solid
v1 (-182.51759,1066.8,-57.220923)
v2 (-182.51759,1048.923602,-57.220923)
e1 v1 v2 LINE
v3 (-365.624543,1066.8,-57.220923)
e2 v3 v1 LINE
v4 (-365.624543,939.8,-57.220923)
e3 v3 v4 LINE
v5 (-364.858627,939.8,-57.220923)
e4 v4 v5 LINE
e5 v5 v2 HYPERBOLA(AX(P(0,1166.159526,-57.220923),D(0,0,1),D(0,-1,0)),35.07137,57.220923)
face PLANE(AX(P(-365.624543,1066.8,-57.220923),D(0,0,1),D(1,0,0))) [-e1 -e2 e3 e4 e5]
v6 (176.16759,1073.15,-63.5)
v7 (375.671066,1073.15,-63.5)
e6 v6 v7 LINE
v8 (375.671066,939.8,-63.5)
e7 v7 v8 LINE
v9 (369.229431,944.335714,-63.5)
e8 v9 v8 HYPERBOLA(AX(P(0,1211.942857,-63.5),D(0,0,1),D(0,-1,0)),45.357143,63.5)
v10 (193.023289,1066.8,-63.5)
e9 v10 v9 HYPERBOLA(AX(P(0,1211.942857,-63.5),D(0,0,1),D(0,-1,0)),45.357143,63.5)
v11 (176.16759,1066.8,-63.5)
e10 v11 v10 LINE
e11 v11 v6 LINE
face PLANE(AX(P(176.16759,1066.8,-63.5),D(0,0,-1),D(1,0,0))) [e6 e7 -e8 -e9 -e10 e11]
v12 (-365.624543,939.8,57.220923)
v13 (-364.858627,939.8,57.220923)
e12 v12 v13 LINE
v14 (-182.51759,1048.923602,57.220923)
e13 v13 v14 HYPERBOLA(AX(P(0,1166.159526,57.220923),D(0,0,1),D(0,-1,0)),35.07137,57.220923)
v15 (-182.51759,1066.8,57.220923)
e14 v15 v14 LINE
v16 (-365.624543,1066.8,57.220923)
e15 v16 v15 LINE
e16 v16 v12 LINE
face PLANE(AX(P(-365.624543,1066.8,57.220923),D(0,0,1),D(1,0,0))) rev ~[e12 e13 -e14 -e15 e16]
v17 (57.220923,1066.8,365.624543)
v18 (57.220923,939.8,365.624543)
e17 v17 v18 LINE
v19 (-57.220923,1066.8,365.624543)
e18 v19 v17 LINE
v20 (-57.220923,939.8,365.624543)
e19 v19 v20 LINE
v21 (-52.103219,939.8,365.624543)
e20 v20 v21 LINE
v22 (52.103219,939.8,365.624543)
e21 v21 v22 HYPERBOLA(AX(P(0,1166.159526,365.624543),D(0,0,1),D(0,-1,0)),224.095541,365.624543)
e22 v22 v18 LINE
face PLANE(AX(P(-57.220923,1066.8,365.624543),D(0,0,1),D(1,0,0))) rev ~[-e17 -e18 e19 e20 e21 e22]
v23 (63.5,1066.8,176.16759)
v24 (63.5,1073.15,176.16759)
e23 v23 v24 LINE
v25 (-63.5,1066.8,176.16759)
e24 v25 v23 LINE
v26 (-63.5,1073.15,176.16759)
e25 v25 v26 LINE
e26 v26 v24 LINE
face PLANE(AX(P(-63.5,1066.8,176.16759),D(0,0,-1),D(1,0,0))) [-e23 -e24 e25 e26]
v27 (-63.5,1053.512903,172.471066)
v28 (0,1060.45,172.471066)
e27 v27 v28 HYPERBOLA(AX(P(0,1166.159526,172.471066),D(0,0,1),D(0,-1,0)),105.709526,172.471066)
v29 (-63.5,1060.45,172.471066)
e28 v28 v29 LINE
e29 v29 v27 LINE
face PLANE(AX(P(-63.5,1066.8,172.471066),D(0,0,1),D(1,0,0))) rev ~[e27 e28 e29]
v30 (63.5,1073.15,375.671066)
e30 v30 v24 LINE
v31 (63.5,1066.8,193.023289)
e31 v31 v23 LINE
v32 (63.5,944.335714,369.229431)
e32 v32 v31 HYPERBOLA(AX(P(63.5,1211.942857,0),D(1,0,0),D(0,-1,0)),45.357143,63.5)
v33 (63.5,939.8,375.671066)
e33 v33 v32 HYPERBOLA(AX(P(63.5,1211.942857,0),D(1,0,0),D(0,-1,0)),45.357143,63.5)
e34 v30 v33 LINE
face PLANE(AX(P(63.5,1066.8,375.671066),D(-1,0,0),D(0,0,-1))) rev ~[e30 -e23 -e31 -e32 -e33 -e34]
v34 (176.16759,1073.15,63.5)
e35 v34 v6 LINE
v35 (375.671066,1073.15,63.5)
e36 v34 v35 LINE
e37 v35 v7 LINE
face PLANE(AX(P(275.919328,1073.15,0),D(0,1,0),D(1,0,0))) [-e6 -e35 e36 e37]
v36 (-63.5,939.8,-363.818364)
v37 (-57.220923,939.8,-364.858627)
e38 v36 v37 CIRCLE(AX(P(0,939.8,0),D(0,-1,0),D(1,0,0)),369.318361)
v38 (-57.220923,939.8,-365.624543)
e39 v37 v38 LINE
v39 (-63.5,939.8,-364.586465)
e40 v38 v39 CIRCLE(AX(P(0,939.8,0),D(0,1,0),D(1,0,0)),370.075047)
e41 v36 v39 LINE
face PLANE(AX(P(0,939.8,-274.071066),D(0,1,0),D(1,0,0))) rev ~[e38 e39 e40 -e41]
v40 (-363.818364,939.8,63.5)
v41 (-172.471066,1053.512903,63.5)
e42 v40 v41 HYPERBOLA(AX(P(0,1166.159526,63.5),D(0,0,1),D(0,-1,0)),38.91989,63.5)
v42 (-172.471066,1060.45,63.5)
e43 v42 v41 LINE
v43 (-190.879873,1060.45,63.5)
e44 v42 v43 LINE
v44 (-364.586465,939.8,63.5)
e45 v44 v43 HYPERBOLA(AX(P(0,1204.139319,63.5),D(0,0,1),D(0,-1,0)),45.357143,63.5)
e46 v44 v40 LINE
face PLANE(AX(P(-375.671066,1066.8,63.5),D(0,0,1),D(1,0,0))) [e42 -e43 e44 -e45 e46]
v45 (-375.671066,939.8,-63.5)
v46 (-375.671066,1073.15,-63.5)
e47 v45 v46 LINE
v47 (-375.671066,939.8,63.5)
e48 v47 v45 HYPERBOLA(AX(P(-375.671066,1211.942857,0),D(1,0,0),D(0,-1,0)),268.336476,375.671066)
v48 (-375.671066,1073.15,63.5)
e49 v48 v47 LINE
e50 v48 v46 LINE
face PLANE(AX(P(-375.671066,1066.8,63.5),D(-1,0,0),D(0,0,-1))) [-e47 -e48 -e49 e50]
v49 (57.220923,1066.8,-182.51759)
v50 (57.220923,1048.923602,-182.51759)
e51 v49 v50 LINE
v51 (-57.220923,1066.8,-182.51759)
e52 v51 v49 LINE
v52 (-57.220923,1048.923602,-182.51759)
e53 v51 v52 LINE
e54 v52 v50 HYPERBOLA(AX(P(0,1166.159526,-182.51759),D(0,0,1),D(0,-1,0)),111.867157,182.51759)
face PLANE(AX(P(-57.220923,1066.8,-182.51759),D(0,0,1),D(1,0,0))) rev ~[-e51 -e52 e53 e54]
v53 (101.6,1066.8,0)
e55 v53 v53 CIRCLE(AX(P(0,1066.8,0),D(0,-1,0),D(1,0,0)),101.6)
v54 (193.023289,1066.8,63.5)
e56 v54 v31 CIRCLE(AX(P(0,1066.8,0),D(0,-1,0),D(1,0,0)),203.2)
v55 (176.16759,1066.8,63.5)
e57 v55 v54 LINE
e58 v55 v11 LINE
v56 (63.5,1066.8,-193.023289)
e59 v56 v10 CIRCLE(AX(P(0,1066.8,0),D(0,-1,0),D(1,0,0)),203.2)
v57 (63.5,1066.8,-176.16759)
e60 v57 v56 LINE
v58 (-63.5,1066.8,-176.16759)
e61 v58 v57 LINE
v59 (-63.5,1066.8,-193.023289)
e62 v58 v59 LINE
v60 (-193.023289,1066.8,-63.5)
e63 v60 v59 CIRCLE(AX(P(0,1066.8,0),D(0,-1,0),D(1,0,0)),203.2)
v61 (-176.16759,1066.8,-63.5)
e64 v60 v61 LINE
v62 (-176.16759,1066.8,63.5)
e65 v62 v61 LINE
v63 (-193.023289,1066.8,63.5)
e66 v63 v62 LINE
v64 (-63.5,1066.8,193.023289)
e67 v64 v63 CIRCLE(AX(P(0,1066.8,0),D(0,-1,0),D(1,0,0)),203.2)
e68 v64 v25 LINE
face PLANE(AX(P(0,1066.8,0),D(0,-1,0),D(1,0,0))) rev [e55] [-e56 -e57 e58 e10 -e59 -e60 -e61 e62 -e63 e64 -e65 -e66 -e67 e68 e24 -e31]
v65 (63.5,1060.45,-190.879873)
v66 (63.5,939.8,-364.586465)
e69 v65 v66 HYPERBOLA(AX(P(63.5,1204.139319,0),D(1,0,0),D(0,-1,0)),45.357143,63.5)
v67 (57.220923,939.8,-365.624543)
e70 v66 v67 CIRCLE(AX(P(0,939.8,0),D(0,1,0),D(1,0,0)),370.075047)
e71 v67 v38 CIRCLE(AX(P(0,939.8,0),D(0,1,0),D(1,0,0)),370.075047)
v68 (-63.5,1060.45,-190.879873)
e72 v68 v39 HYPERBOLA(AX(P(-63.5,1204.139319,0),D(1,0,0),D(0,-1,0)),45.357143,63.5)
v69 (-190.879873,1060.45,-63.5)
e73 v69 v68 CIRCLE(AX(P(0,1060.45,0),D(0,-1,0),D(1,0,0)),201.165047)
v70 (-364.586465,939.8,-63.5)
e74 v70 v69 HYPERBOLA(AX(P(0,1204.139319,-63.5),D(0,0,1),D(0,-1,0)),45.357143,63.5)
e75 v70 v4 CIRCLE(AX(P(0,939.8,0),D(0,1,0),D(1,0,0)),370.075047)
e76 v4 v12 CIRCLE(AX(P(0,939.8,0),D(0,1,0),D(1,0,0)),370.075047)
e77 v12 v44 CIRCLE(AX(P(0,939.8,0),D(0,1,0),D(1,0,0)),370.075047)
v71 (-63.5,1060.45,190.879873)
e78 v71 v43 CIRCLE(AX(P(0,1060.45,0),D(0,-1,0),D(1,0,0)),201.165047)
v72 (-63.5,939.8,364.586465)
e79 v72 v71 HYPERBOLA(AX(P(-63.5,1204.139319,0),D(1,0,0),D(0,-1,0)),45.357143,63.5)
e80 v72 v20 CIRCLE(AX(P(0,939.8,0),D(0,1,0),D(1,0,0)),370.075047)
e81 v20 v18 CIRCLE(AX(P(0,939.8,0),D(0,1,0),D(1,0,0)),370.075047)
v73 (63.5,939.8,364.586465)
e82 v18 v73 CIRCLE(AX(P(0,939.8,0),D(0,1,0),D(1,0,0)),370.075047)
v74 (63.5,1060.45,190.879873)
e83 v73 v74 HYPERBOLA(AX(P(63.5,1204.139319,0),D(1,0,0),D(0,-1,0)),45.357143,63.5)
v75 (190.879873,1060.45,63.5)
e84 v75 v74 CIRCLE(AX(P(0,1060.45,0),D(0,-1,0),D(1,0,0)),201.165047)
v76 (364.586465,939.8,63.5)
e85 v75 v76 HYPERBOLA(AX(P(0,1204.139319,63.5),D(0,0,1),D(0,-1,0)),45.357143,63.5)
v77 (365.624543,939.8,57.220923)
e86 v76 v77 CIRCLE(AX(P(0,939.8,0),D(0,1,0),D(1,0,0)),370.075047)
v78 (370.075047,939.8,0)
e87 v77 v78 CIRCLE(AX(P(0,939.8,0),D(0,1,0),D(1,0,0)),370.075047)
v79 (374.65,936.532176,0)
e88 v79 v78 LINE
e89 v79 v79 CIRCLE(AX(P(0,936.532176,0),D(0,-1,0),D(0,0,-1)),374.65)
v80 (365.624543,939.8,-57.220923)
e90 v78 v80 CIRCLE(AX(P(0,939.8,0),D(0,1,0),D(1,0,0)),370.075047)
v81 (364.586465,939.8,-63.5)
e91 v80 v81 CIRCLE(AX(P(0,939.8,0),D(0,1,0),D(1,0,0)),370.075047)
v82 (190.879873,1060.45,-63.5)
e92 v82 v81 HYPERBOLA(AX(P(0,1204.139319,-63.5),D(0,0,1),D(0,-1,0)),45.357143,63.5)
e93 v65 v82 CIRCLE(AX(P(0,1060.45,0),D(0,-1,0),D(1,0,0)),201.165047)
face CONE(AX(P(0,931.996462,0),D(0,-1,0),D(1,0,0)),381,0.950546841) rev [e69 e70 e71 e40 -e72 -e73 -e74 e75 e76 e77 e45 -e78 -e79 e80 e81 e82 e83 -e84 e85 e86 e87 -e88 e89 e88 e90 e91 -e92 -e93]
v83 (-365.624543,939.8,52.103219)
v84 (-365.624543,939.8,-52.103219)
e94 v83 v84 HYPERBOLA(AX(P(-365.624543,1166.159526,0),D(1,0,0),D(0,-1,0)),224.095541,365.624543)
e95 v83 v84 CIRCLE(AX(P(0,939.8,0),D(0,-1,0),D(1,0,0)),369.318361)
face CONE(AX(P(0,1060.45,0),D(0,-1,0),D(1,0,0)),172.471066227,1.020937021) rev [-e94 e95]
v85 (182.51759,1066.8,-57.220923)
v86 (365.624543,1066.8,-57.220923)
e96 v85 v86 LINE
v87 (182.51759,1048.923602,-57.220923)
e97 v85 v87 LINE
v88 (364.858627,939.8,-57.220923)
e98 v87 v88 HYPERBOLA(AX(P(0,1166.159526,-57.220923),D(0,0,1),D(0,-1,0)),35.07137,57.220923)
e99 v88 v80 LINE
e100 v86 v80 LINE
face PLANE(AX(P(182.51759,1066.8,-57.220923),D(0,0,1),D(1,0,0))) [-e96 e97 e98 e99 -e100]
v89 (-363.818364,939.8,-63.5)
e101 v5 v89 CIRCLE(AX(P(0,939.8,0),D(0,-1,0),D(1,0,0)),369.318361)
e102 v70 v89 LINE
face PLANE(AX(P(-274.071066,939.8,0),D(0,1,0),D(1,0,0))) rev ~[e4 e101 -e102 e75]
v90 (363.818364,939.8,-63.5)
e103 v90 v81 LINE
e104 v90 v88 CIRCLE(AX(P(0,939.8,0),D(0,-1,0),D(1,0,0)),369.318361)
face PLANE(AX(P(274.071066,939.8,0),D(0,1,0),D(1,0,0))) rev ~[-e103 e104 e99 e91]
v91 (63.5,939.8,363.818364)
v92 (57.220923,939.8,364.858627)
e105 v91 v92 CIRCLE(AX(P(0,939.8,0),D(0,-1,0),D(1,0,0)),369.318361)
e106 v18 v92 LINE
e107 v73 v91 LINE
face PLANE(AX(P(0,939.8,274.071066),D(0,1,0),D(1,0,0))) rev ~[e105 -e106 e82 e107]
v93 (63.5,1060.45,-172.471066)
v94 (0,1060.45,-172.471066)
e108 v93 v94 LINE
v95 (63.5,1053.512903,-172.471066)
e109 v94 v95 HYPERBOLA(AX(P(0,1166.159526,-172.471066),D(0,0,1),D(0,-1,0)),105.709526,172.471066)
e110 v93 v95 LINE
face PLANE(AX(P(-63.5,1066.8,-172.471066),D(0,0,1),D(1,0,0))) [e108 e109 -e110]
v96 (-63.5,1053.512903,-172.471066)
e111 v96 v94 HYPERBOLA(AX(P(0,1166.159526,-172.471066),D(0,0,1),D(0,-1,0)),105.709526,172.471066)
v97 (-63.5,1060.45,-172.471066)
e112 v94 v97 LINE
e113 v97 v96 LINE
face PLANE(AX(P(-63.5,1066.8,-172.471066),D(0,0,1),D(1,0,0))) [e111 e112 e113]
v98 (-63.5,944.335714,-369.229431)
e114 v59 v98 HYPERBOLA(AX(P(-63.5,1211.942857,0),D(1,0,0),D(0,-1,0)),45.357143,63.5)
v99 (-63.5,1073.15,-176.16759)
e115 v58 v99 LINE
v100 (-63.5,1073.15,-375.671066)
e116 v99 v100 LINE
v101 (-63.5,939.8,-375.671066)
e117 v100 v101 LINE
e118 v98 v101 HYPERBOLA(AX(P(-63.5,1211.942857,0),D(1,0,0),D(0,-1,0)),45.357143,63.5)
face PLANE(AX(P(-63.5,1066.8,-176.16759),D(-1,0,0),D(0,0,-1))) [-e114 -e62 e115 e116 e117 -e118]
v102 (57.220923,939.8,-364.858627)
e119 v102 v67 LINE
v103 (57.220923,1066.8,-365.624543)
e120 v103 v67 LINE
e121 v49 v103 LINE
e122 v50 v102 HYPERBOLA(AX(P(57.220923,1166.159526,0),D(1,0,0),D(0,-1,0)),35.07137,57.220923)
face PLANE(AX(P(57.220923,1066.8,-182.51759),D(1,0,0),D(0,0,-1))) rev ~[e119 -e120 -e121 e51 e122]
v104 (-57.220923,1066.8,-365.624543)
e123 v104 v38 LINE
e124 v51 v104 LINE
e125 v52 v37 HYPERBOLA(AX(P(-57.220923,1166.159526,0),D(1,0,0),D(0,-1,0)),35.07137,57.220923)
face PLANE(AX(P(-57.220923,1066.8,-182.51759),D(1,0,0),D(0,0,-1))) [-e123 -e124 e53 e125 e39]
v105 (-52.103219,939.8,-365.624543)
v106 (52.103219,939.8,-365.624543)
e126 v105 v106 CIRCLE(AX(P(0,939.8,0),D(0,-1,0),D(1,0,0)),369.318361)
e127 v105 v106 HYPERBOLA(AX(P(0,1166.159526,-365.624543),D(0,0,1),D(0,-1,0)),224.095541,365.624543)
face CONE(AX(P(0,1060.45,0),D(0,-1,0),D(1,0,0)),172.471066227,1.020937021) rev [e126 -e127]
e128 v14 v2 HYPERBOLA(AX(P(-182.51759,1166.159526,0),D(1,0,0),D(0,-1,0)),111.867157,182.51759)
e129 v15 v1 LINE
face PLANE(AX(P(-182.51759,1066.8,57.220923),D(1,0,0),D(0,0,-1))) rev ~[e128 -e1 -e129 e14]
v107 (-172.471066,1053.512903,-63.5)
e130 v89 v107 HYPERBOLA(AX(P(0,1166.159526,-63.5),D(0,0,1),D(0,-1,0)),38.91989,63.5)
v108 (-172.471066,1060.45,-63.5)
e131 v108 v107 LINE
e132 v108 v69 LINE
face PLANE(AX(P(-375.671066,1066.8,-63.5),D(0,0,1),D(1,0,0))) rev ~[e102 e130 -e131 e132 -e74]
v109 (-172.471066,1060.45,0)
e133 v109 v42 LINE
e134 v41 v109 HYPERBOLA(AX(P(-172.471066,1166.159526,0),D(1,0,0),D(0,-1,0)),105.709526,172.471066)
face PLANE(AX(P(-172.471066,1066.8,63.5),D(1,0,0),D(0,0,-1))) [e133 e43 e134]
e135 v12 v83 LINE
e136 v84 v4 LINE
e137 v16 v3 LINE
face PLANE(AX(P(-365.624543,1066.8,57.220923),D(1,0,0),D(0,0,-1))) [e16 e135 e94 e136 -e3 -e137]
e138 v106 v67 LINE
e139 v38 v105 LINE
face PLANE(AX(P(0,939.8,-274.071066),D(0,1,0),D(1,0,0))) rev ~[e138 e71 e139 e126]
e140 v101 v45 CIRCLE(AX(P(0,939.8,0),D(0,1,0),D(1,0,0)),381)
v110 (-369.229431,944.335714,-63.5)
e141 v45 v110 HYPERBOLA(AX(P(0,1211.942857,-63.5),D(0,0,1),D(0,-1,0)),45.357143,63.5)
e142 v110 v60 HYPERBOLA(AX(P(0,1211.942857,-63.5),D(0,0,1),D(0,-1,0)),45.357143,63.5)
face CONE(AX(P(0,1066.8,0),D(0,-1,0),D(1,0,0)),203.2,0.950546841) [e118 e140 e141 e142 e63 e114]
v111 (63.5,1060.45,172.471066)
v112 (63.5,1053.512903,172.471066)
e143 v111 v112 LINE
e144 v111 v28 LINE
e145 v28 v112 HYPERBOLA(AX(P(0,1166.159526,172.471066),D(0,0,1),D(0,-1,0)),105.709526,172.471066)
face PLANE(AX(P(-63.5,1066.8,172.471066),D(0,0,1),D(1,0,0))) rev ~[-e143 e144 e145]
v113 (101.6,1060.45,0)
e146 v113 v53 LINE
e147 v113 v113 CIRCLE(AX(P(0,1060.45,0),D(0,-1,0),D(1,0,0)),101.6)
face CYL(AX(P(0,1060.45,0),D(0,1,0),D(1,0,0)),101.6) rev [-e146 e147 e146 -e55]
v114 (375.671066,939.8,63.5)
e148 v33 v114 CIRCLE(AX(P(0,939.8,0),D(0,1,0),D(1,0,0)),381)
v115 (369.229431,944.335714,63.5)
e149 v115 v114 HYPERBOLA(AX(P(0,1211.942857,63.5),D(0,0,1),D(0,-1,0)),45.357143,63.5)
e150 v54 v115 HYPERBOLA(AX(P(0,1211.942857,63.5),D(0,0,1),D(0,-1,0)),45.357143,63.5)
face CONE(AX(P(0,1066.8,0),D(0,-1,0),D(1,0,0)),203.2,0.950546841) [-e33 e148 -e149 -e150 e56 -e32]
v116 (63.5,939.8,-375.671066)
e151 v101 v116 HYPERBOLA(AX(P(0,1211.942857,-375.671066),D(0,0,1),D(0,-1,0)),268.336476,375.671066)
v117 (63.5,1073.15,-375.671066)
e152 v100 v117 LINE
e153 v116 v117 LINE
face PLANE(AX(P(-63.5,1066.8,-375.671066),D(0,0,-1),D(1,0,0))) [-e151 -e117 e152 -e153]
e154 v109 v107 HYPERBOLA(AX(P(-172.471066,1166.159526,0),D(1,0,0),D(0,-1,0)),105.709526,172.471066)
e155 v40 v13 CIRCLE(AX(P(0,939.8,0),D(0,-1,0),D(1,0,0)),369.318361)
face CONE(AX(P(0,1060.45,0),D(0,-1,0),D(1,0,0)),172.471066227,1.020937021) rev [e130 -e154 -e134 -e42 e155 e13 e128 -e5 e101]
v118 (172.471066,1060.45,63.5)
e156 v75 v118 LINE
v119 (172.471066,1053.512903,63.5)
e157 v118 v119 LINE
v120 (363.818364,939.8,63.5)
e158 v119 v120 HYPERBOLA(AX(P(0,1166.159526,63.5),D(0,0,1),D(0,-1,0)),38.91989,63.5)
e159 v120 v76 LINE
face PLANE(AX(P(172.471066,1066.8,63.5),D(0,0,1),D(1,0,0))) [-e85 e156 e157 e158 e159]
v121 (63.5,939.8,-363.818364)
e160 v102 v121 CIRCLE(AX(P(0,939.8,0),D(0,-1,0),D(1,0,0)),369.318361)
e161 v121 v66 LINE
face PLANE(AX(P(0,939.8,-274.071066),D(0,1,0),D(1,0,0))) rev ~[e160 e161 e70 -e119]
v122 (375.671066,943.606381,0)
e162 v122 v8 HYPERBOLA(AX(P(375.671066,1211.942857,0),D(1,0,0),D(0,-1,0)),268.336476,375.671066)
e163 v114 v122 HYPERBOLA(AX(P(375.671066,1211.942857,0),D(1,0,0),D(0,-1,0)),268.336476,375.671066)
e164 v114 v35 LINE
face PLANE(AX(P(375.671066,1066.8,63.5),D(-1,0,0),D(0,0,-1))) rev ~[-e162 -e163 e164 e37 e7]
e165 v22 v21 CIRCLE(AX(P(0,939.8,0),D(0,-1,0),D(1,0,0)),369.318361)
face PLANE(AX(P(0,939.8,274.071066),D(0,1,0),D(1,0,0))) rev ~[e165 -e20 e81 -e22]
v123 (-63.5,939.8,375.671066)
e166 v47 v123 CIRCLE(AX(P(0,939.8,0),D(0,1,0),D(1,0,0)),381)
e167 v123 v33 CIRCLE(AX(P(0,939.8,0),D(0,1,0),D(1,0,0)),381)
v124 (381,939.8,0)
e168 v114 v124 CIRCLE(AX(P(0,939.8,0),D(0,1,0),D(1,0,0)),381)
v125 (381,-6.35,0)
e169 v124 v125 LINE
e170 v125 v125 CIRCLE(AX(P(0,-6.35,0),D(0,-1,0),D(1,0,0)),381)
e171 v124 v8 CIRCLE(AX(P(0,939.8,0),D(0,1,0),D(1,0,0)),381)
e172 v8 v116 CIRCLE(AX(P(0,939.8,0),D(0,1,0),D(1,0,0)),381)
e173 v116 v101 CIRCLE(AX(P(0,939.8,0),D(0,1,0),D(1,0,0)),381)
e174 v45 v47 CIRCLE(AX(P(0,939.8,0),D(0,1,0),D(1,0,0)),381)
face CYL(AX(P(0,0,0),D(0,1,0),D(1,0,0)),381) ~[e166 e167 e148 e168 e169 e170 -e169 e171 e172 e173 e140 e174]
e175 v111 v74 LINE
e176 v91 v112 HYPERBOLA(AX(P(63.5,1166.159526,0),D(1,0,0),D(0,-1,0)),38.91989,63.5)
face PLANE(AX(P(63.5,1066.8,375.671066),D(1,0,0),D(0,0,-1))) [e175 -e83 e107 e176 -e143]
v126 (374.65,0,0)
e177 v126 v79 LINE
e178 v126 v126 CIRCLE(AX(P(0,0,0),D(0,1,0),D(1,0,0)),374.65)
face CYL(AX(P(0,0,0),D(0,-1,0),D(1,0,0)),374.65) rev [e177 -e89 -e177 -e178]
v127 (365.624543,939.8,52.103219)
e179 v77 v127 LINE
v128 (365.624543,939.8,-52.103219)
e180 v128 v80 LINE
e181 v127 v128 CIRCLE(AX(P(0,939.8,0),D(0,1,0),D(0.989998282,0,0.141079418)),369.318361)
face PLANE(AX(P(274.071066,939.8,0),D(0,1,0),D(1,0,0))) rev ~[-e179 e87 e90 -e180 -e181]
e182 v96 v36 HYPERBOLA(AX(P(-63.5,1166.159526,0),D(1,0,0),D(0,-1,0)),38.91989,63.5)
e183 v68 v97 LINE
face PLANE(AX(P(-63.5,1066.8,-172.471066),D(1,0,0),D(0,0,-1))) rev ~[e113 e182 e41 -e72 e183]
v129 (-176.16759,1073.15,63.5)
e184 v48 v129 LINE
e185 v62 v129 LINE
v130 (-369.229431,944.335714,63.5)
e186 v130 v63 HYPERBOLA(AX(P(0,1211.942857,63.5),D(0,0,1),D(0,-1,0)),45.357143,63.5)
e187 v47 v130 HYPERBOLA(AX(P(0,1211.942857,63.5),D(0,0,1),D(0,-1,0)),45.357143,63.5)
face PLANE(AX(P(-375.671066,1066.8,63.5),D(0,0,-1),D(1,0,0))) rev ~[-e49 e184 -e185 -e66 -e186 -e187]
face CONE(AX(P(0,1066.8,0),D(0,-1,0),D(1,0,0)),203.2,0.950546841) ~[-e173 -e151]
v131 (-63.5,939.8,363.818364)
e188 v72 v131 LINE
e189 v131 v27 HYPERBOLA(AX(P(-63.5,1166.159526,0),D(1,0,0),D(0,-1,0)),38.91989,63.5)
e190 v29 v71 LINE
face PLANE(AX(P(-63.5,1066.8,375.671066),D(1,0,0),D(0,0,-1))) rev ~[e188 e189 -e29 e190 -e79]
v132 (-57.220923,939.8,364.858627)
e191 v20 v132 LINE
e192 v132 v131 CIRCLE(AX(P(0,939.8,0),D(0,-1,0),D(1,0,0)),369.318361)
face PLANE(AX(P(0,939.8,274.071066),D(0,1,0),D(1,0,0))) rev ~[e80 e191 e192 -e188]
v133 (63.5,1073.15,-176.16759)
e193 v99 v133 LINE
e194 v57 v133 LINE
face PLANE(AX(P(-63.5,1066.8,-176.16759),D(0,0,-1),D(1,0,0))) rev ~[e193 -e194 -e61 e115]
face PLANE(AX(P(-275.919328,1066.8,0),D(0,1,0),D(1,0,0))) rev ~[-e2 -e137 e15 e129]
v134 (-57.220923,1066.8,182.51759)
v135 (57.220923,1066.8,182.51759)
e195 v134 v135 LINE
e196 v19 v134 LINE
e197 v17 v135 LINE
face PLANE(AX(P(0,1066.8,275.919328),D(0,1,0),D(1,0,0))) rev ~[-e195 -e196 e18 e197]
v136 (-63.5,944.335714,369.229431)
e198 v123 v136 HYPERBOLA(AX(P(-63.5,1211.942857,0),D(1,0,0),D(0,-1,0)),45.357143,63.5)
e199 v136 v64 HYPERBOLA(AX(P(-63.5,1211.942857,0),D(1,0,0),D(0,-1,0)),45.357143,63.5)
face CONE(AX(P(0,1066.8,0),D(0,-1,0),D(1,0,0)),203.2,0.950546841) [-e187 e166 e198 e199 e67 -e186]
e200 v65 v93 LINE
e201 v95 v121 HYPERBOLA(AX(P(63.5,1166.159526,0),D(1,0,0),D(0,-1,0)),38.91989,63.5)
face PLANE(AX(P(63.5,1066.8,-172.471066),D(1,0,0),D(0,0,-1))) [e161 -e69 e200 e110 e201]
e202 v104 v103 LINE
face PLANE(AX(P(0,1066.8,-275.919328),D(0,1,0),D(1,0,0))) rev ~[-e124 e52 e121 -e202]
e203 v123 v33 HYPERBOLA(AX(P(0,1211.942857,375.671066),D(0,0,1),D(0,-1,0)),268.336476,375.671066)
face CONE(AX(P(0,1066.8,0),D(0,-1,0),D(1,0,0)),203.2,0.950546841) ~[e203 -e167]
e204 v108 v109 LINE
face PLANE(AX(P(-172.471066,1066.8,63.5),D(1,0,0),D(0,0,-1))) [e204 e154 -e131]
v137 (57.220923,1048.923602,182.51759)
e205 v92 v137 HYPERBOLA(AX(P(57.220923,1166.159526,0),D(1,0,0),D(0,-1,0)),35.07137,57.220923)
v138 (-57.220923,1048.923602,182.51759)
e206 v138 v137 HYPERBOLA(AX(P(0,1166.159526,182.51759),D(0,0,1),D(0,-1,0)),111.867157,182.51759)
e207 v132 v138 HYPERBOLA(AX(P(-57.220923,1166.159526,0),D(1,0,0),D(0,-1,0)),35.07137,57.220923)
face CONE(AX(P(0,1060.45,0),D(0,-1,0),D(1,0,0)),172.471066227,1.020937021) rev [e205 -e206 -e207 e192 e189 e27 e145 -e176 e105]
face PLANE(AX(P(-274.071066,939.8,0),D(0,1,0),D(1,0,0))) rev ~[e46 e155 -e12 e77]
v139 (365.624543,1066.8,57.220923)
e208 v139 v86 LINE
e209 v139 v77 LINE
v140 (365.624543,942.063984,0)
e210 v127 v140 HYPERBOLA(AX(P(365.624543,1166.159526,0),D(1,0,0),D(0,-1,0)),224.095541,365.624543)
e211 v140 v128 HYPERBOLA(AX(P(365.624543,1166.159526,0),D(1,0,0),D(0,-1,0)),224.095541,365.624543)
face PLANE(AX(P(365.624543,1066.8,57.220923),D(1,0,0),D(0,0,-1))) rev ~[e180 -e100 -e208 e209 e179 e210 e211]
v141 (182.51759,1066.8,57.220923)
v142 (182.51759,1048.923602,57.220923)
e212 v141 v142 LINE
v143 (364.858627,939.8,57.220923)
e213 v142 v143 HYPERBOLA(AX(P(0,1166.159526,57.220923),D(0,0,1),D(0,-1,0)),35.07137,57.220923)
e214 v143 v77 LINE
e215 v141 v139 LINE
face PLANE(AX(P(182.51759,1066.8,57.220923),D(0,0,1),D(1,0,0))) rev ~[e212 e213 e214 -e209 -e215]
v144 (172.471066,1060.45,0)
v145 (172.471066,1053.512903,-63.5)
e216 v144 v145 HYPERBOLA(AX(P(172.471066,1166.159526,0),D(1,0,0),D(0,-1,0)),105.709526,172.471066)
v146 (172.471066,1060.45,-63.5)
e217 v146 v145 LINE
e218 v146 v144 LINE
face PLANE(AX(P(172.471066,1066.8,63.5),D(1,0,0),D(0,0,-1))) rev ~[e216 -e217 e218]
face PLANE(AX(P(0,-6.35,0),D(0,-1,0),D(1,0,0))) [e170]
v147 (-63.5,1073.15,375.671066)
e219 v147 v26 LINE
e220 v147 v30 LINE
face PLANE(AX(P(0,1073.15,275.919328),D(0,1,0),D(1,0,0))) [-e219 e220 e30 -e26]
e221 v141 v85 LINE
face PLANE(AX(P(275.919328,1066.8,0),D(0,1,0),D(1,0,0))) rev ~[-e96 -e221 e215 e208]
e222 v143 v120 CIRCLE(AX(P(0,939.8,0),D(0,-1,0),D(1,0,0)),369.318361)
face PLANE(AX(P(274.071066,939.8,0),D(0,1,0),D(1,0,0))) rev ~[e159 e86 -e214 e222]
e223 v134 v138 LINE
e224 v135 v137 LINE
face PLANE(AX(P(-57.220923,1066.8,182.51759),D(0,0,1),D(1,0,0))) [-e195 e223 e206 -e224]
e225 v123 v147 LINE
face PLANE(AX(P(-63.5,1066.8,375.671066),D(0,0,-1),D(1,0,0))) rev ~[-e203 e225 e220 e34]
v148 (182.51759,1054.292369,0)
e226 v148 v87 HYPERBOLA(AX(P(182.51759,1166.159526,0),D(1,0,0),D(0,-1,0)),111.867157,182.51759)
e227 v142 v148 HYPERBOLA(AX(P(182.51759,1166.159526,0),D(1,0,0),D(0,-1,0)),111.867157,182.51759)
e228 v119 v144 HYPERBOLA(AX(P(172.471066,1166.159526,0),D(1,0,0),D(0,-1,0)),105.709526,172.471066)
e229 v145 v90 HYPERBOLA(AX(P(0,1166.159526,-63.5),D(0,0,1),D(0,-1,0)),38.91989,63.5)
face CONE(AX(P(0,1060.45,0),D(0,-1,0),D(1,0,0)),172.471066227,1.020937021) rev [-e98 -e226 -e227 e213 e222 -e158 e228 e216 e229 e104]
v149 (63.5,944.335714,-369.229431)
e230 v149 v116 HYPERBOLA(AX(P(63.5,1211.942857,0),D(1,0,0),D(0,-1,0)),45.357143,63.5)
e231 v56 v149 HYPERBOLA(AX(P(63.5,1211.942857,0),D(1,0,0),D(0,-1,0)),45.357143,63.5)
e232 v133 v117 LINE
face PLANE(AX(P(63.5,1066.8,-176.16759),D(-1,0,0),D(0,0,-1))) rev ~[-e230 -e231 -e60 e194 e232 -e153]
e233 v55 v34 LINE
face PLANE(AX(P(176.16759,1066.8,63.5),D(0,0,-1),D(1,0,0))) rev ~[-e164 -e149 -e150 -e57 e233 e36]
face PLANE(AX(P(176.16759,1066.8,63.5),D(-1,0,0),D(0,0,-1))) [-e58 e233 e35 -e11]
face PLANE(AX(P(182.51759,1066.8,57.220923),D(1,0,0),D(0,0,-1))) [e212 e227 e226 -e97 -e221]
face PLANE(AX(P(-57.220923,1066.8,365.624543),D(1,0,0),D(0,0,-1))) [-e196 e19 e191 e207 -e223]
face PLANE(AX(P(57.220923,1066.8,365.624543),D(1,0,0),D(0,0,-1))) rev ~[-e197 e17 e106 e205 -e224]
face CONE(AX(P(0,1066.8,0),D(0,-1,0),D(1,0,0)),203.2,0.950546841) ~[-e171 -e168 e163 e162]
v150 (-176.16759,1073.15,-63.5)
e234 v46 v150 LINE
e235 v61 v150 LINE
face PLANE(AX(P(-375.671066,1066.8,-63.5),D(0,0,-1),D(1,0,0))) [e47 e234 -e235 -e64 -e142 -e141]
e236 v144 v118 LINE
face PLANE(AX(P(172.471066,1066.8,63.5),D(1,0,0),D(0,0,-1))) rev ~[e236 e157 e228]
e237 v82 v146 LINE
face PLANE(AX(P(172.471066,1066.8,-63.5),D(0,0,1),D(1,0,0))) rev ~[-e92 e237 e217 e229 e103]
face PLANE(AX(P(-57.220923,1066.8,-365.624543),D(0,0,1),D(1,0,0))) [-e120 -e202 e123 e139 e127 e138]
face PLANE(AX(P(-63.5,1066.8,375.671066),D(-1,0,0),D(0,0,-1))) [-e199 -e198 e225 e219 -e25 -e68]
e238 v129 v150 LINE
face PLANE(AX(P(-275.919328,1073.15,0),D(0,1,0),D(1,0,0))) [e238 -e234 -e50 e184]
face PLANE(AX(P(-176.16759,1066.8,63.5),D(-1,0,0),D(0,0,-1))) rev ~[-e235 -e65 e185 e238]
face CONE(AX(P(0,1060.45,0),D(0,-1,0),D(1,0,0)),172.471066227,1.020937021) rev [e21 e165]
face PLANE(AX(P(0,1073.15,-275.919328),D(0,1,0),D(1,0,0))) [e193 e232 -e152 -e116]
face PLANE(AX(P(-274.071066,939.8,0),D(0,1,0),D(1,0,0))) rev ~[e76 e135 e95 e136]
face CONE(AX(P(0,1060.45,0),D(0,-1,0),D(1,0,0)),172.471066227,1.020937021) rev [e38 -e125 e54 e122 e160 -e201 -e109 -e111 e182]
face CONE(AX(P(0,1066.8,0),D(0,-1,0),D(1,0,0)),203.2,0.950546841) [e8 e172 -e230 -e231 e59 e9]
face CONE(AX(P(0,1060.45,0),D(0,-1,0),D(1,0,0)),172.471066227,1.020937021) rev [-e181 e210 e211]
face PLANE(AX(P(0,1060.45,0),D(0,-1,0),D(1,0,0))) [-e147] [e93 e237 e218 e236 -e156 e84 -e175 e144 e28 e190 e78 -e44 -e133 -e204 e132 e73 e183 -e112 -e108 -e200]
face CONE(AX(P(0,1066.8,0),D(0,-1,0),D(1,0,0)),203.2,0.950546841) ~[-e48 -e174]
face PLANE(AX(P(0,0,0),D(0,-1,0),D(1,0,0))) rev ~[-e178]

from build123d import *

# Parameters (mm, degrees)
SKETCH1_R           = 381
SKETCH1_R_2         = 374.65
BOSS_EXTRUDE1_DEPTH = 1066.8
SKETCH4_W           = 127
SKETCH4_H           = 203.2
SKETCH4_W_2         = 203.2
SKETCH4_H_2         = 127
CUT_EXTRUDE7_DEPTH  = 127
SKETCH6_W           = 203.2
SKETCH6_H           = 127
SKETCH6_W_2         = 183.106953235
SKETCH6_H_2         = 114.441845772
SKETCH6_W_3         = 127
SKETCH6_H_3         = 203.2
SKETCH6_W_4         = 114.441845772
SKETCH6_H_4         = 183.106953235
BOSS_EXTRUDE3_DEPTH = 127
SKETCH7_W           = 199.503476618
SKETCH7_H           = 127
SKETCH7_W_2         = 127
SKETCH7_H_2         = 199.503476618
BOSS_EXTRUDE4_DEPTH = 6.35
SKETCH8_R           = 381
BOSS_EXTRUDE5_DEPTH = 6.35


with BuildPart() as part:
    # Sketch1 → Boss-Extrude1 (new body)
    with BuildSketch(Plane(origin=(0, 0, 0), x_dir=(1, 0, 0), z_dir=(0, 1, 0))):
        Circle(SKETCH1_R)
        Circle(SKETCH1_R_2, mode=Mode.SUBTRACT)
    extrude(amount=BOSS_EXTRUDE1_DEPTH)

    # Sketch3 → Revolve1 (revolve)
    with BuildSketch(Plane.XY):
        Polygon((203.2, 1066.8), (381, 939.8), (381, 931.996462079), (201.165046911, 1060.45), (101.6, 1060.45), (101.6, 1066.8), align=None)
    revolve(axis=Axis((0, 1066.8, 0), (0, -1, 0)))

    # Sketch5 → Cut-Revolve2 (revolve, cut)
    with BuildSketch(Plane.XY):
        Polygon((203.2, 1066.8), (381, 939.8), (381, 1066.8), align=None)
    revolve(axis=Axis((0, 0, 0), (0, 1, 0)), mode=Mode.SUBTRACT)

    # Sketch4 → Cut-Extrude7 (cut)
    with BuildSketch(Plane(origin=(0, 1066.8, 0), x_dir=(1, 0, 0), z_dir=(0, 1, 0))):
        with Locations((0, -274.071066227)):
            Rectangle(SKETCH4_W, SKETCH4_H)
        with Locations((274.071066227, 0)):
            Rectangle(SKETCH4_W_2, SKETCH4_H_2)
        with Locations((-274.071066227, 0)):
            Rectangle(SKETCH4_W_2, SKETCH4_H_2)
        with Locations((0, 274.071066227)):
            Rectangle(SKETCH4_W, SKETCH4_H)
    extrude(amount=-CUT_EXTRUDE7_DEPTH, mode=Mode.SUBTRACT)

    # Sketch6 → Boss-Extrude3 (add)
    with BuildSketch(Plane(origin=(0, 1066.8, 0), x_dir=(1, 0, 0), z_dir=(0, 1, 0))):
        with Locations((274.071066227, 0)):
            Rectangle(SKETCH6_W, SKETCH6_H)
        with Locations((274.071066227, 0)):
            Rectangle(SKETCH6_W_2, SKETCH6_H_2, mode=Mode.SUBTRACT)
        with Locations((0, -274.071066227)):
            Rectangle(SKETCH6_W_3, SKETCH6_H_3)
        with Locations((0, -274.071066227)):
            Rectangle(SKETCH6_W_4, SKETCH6_H_4, mode=Mode.SUBTRACT)
        with Locations((-274.071066227, 0)):
            Rectangle(SKETCH6_W, SKETCH6_H)
        with Locations((-274.071066227, 0)):
            Rectangle(SKETCH6_W_2, SKETCH6_H_2, mode=Mode.SUBTRACT)
        with Locations((0, 274.071066227)):
            Rectangle(SKETCH6_W_3, SKETCH6_H_3)
        with Locations((0, 274.071066227)):
            Rectangle(SKETCH6_W_4, SKETCH6_H_4, mode=Mode.SUBTRACT)
    extrude(amount=-BOSS_EXTRUDE3_DEPTH)

    # Sketch7 → Boss-Extrude4 (add)
    with BuildSketch(Plane(origin=(0, 1066.8, 0), x_dir=(1, 0, 0), z_dir=(0, 1, 0))):
        with Locations((275.919327918, 0)):
            Rectangle(SKETCH7_W, SKETCH7_H)
        with Locations((0, -275.919327918)):
            Rectangle(SKETCH7_W_2, SKETCH7_H_2)
        with Locations((-275.919327918, 0)):
            Rectangle(SKETCH7_W, SKETCH7_H)
        with Locations((0, 275.919327918)):
            Rectangle(SKETCH7_W_2, SKETCH7_H_2)
    extrude(amount=BOSS_EXTRUDE4_DEPTH)

    # Sketch8 → Boss-Extrude5 (add)
    with BuildSketch(Plane.XZ):
        Circle(SKETCH8_R)
    extrude(amount=BOSS_EXTRUDE5_DEPTH)

    # Sketch9 → Cut-Revolve3 (revolve, cut)
    with BuildSketch(Plane.XY):
        Polygon((172.471066227, 1060.45), (374.65, 936.532176365), (172.471066227, 936.532176365), align=None)
    revolve(axis=Axis((0, 0, 0), (0, 1, 0)), mode=Mode.SUBTRACT)


solid = part.part
